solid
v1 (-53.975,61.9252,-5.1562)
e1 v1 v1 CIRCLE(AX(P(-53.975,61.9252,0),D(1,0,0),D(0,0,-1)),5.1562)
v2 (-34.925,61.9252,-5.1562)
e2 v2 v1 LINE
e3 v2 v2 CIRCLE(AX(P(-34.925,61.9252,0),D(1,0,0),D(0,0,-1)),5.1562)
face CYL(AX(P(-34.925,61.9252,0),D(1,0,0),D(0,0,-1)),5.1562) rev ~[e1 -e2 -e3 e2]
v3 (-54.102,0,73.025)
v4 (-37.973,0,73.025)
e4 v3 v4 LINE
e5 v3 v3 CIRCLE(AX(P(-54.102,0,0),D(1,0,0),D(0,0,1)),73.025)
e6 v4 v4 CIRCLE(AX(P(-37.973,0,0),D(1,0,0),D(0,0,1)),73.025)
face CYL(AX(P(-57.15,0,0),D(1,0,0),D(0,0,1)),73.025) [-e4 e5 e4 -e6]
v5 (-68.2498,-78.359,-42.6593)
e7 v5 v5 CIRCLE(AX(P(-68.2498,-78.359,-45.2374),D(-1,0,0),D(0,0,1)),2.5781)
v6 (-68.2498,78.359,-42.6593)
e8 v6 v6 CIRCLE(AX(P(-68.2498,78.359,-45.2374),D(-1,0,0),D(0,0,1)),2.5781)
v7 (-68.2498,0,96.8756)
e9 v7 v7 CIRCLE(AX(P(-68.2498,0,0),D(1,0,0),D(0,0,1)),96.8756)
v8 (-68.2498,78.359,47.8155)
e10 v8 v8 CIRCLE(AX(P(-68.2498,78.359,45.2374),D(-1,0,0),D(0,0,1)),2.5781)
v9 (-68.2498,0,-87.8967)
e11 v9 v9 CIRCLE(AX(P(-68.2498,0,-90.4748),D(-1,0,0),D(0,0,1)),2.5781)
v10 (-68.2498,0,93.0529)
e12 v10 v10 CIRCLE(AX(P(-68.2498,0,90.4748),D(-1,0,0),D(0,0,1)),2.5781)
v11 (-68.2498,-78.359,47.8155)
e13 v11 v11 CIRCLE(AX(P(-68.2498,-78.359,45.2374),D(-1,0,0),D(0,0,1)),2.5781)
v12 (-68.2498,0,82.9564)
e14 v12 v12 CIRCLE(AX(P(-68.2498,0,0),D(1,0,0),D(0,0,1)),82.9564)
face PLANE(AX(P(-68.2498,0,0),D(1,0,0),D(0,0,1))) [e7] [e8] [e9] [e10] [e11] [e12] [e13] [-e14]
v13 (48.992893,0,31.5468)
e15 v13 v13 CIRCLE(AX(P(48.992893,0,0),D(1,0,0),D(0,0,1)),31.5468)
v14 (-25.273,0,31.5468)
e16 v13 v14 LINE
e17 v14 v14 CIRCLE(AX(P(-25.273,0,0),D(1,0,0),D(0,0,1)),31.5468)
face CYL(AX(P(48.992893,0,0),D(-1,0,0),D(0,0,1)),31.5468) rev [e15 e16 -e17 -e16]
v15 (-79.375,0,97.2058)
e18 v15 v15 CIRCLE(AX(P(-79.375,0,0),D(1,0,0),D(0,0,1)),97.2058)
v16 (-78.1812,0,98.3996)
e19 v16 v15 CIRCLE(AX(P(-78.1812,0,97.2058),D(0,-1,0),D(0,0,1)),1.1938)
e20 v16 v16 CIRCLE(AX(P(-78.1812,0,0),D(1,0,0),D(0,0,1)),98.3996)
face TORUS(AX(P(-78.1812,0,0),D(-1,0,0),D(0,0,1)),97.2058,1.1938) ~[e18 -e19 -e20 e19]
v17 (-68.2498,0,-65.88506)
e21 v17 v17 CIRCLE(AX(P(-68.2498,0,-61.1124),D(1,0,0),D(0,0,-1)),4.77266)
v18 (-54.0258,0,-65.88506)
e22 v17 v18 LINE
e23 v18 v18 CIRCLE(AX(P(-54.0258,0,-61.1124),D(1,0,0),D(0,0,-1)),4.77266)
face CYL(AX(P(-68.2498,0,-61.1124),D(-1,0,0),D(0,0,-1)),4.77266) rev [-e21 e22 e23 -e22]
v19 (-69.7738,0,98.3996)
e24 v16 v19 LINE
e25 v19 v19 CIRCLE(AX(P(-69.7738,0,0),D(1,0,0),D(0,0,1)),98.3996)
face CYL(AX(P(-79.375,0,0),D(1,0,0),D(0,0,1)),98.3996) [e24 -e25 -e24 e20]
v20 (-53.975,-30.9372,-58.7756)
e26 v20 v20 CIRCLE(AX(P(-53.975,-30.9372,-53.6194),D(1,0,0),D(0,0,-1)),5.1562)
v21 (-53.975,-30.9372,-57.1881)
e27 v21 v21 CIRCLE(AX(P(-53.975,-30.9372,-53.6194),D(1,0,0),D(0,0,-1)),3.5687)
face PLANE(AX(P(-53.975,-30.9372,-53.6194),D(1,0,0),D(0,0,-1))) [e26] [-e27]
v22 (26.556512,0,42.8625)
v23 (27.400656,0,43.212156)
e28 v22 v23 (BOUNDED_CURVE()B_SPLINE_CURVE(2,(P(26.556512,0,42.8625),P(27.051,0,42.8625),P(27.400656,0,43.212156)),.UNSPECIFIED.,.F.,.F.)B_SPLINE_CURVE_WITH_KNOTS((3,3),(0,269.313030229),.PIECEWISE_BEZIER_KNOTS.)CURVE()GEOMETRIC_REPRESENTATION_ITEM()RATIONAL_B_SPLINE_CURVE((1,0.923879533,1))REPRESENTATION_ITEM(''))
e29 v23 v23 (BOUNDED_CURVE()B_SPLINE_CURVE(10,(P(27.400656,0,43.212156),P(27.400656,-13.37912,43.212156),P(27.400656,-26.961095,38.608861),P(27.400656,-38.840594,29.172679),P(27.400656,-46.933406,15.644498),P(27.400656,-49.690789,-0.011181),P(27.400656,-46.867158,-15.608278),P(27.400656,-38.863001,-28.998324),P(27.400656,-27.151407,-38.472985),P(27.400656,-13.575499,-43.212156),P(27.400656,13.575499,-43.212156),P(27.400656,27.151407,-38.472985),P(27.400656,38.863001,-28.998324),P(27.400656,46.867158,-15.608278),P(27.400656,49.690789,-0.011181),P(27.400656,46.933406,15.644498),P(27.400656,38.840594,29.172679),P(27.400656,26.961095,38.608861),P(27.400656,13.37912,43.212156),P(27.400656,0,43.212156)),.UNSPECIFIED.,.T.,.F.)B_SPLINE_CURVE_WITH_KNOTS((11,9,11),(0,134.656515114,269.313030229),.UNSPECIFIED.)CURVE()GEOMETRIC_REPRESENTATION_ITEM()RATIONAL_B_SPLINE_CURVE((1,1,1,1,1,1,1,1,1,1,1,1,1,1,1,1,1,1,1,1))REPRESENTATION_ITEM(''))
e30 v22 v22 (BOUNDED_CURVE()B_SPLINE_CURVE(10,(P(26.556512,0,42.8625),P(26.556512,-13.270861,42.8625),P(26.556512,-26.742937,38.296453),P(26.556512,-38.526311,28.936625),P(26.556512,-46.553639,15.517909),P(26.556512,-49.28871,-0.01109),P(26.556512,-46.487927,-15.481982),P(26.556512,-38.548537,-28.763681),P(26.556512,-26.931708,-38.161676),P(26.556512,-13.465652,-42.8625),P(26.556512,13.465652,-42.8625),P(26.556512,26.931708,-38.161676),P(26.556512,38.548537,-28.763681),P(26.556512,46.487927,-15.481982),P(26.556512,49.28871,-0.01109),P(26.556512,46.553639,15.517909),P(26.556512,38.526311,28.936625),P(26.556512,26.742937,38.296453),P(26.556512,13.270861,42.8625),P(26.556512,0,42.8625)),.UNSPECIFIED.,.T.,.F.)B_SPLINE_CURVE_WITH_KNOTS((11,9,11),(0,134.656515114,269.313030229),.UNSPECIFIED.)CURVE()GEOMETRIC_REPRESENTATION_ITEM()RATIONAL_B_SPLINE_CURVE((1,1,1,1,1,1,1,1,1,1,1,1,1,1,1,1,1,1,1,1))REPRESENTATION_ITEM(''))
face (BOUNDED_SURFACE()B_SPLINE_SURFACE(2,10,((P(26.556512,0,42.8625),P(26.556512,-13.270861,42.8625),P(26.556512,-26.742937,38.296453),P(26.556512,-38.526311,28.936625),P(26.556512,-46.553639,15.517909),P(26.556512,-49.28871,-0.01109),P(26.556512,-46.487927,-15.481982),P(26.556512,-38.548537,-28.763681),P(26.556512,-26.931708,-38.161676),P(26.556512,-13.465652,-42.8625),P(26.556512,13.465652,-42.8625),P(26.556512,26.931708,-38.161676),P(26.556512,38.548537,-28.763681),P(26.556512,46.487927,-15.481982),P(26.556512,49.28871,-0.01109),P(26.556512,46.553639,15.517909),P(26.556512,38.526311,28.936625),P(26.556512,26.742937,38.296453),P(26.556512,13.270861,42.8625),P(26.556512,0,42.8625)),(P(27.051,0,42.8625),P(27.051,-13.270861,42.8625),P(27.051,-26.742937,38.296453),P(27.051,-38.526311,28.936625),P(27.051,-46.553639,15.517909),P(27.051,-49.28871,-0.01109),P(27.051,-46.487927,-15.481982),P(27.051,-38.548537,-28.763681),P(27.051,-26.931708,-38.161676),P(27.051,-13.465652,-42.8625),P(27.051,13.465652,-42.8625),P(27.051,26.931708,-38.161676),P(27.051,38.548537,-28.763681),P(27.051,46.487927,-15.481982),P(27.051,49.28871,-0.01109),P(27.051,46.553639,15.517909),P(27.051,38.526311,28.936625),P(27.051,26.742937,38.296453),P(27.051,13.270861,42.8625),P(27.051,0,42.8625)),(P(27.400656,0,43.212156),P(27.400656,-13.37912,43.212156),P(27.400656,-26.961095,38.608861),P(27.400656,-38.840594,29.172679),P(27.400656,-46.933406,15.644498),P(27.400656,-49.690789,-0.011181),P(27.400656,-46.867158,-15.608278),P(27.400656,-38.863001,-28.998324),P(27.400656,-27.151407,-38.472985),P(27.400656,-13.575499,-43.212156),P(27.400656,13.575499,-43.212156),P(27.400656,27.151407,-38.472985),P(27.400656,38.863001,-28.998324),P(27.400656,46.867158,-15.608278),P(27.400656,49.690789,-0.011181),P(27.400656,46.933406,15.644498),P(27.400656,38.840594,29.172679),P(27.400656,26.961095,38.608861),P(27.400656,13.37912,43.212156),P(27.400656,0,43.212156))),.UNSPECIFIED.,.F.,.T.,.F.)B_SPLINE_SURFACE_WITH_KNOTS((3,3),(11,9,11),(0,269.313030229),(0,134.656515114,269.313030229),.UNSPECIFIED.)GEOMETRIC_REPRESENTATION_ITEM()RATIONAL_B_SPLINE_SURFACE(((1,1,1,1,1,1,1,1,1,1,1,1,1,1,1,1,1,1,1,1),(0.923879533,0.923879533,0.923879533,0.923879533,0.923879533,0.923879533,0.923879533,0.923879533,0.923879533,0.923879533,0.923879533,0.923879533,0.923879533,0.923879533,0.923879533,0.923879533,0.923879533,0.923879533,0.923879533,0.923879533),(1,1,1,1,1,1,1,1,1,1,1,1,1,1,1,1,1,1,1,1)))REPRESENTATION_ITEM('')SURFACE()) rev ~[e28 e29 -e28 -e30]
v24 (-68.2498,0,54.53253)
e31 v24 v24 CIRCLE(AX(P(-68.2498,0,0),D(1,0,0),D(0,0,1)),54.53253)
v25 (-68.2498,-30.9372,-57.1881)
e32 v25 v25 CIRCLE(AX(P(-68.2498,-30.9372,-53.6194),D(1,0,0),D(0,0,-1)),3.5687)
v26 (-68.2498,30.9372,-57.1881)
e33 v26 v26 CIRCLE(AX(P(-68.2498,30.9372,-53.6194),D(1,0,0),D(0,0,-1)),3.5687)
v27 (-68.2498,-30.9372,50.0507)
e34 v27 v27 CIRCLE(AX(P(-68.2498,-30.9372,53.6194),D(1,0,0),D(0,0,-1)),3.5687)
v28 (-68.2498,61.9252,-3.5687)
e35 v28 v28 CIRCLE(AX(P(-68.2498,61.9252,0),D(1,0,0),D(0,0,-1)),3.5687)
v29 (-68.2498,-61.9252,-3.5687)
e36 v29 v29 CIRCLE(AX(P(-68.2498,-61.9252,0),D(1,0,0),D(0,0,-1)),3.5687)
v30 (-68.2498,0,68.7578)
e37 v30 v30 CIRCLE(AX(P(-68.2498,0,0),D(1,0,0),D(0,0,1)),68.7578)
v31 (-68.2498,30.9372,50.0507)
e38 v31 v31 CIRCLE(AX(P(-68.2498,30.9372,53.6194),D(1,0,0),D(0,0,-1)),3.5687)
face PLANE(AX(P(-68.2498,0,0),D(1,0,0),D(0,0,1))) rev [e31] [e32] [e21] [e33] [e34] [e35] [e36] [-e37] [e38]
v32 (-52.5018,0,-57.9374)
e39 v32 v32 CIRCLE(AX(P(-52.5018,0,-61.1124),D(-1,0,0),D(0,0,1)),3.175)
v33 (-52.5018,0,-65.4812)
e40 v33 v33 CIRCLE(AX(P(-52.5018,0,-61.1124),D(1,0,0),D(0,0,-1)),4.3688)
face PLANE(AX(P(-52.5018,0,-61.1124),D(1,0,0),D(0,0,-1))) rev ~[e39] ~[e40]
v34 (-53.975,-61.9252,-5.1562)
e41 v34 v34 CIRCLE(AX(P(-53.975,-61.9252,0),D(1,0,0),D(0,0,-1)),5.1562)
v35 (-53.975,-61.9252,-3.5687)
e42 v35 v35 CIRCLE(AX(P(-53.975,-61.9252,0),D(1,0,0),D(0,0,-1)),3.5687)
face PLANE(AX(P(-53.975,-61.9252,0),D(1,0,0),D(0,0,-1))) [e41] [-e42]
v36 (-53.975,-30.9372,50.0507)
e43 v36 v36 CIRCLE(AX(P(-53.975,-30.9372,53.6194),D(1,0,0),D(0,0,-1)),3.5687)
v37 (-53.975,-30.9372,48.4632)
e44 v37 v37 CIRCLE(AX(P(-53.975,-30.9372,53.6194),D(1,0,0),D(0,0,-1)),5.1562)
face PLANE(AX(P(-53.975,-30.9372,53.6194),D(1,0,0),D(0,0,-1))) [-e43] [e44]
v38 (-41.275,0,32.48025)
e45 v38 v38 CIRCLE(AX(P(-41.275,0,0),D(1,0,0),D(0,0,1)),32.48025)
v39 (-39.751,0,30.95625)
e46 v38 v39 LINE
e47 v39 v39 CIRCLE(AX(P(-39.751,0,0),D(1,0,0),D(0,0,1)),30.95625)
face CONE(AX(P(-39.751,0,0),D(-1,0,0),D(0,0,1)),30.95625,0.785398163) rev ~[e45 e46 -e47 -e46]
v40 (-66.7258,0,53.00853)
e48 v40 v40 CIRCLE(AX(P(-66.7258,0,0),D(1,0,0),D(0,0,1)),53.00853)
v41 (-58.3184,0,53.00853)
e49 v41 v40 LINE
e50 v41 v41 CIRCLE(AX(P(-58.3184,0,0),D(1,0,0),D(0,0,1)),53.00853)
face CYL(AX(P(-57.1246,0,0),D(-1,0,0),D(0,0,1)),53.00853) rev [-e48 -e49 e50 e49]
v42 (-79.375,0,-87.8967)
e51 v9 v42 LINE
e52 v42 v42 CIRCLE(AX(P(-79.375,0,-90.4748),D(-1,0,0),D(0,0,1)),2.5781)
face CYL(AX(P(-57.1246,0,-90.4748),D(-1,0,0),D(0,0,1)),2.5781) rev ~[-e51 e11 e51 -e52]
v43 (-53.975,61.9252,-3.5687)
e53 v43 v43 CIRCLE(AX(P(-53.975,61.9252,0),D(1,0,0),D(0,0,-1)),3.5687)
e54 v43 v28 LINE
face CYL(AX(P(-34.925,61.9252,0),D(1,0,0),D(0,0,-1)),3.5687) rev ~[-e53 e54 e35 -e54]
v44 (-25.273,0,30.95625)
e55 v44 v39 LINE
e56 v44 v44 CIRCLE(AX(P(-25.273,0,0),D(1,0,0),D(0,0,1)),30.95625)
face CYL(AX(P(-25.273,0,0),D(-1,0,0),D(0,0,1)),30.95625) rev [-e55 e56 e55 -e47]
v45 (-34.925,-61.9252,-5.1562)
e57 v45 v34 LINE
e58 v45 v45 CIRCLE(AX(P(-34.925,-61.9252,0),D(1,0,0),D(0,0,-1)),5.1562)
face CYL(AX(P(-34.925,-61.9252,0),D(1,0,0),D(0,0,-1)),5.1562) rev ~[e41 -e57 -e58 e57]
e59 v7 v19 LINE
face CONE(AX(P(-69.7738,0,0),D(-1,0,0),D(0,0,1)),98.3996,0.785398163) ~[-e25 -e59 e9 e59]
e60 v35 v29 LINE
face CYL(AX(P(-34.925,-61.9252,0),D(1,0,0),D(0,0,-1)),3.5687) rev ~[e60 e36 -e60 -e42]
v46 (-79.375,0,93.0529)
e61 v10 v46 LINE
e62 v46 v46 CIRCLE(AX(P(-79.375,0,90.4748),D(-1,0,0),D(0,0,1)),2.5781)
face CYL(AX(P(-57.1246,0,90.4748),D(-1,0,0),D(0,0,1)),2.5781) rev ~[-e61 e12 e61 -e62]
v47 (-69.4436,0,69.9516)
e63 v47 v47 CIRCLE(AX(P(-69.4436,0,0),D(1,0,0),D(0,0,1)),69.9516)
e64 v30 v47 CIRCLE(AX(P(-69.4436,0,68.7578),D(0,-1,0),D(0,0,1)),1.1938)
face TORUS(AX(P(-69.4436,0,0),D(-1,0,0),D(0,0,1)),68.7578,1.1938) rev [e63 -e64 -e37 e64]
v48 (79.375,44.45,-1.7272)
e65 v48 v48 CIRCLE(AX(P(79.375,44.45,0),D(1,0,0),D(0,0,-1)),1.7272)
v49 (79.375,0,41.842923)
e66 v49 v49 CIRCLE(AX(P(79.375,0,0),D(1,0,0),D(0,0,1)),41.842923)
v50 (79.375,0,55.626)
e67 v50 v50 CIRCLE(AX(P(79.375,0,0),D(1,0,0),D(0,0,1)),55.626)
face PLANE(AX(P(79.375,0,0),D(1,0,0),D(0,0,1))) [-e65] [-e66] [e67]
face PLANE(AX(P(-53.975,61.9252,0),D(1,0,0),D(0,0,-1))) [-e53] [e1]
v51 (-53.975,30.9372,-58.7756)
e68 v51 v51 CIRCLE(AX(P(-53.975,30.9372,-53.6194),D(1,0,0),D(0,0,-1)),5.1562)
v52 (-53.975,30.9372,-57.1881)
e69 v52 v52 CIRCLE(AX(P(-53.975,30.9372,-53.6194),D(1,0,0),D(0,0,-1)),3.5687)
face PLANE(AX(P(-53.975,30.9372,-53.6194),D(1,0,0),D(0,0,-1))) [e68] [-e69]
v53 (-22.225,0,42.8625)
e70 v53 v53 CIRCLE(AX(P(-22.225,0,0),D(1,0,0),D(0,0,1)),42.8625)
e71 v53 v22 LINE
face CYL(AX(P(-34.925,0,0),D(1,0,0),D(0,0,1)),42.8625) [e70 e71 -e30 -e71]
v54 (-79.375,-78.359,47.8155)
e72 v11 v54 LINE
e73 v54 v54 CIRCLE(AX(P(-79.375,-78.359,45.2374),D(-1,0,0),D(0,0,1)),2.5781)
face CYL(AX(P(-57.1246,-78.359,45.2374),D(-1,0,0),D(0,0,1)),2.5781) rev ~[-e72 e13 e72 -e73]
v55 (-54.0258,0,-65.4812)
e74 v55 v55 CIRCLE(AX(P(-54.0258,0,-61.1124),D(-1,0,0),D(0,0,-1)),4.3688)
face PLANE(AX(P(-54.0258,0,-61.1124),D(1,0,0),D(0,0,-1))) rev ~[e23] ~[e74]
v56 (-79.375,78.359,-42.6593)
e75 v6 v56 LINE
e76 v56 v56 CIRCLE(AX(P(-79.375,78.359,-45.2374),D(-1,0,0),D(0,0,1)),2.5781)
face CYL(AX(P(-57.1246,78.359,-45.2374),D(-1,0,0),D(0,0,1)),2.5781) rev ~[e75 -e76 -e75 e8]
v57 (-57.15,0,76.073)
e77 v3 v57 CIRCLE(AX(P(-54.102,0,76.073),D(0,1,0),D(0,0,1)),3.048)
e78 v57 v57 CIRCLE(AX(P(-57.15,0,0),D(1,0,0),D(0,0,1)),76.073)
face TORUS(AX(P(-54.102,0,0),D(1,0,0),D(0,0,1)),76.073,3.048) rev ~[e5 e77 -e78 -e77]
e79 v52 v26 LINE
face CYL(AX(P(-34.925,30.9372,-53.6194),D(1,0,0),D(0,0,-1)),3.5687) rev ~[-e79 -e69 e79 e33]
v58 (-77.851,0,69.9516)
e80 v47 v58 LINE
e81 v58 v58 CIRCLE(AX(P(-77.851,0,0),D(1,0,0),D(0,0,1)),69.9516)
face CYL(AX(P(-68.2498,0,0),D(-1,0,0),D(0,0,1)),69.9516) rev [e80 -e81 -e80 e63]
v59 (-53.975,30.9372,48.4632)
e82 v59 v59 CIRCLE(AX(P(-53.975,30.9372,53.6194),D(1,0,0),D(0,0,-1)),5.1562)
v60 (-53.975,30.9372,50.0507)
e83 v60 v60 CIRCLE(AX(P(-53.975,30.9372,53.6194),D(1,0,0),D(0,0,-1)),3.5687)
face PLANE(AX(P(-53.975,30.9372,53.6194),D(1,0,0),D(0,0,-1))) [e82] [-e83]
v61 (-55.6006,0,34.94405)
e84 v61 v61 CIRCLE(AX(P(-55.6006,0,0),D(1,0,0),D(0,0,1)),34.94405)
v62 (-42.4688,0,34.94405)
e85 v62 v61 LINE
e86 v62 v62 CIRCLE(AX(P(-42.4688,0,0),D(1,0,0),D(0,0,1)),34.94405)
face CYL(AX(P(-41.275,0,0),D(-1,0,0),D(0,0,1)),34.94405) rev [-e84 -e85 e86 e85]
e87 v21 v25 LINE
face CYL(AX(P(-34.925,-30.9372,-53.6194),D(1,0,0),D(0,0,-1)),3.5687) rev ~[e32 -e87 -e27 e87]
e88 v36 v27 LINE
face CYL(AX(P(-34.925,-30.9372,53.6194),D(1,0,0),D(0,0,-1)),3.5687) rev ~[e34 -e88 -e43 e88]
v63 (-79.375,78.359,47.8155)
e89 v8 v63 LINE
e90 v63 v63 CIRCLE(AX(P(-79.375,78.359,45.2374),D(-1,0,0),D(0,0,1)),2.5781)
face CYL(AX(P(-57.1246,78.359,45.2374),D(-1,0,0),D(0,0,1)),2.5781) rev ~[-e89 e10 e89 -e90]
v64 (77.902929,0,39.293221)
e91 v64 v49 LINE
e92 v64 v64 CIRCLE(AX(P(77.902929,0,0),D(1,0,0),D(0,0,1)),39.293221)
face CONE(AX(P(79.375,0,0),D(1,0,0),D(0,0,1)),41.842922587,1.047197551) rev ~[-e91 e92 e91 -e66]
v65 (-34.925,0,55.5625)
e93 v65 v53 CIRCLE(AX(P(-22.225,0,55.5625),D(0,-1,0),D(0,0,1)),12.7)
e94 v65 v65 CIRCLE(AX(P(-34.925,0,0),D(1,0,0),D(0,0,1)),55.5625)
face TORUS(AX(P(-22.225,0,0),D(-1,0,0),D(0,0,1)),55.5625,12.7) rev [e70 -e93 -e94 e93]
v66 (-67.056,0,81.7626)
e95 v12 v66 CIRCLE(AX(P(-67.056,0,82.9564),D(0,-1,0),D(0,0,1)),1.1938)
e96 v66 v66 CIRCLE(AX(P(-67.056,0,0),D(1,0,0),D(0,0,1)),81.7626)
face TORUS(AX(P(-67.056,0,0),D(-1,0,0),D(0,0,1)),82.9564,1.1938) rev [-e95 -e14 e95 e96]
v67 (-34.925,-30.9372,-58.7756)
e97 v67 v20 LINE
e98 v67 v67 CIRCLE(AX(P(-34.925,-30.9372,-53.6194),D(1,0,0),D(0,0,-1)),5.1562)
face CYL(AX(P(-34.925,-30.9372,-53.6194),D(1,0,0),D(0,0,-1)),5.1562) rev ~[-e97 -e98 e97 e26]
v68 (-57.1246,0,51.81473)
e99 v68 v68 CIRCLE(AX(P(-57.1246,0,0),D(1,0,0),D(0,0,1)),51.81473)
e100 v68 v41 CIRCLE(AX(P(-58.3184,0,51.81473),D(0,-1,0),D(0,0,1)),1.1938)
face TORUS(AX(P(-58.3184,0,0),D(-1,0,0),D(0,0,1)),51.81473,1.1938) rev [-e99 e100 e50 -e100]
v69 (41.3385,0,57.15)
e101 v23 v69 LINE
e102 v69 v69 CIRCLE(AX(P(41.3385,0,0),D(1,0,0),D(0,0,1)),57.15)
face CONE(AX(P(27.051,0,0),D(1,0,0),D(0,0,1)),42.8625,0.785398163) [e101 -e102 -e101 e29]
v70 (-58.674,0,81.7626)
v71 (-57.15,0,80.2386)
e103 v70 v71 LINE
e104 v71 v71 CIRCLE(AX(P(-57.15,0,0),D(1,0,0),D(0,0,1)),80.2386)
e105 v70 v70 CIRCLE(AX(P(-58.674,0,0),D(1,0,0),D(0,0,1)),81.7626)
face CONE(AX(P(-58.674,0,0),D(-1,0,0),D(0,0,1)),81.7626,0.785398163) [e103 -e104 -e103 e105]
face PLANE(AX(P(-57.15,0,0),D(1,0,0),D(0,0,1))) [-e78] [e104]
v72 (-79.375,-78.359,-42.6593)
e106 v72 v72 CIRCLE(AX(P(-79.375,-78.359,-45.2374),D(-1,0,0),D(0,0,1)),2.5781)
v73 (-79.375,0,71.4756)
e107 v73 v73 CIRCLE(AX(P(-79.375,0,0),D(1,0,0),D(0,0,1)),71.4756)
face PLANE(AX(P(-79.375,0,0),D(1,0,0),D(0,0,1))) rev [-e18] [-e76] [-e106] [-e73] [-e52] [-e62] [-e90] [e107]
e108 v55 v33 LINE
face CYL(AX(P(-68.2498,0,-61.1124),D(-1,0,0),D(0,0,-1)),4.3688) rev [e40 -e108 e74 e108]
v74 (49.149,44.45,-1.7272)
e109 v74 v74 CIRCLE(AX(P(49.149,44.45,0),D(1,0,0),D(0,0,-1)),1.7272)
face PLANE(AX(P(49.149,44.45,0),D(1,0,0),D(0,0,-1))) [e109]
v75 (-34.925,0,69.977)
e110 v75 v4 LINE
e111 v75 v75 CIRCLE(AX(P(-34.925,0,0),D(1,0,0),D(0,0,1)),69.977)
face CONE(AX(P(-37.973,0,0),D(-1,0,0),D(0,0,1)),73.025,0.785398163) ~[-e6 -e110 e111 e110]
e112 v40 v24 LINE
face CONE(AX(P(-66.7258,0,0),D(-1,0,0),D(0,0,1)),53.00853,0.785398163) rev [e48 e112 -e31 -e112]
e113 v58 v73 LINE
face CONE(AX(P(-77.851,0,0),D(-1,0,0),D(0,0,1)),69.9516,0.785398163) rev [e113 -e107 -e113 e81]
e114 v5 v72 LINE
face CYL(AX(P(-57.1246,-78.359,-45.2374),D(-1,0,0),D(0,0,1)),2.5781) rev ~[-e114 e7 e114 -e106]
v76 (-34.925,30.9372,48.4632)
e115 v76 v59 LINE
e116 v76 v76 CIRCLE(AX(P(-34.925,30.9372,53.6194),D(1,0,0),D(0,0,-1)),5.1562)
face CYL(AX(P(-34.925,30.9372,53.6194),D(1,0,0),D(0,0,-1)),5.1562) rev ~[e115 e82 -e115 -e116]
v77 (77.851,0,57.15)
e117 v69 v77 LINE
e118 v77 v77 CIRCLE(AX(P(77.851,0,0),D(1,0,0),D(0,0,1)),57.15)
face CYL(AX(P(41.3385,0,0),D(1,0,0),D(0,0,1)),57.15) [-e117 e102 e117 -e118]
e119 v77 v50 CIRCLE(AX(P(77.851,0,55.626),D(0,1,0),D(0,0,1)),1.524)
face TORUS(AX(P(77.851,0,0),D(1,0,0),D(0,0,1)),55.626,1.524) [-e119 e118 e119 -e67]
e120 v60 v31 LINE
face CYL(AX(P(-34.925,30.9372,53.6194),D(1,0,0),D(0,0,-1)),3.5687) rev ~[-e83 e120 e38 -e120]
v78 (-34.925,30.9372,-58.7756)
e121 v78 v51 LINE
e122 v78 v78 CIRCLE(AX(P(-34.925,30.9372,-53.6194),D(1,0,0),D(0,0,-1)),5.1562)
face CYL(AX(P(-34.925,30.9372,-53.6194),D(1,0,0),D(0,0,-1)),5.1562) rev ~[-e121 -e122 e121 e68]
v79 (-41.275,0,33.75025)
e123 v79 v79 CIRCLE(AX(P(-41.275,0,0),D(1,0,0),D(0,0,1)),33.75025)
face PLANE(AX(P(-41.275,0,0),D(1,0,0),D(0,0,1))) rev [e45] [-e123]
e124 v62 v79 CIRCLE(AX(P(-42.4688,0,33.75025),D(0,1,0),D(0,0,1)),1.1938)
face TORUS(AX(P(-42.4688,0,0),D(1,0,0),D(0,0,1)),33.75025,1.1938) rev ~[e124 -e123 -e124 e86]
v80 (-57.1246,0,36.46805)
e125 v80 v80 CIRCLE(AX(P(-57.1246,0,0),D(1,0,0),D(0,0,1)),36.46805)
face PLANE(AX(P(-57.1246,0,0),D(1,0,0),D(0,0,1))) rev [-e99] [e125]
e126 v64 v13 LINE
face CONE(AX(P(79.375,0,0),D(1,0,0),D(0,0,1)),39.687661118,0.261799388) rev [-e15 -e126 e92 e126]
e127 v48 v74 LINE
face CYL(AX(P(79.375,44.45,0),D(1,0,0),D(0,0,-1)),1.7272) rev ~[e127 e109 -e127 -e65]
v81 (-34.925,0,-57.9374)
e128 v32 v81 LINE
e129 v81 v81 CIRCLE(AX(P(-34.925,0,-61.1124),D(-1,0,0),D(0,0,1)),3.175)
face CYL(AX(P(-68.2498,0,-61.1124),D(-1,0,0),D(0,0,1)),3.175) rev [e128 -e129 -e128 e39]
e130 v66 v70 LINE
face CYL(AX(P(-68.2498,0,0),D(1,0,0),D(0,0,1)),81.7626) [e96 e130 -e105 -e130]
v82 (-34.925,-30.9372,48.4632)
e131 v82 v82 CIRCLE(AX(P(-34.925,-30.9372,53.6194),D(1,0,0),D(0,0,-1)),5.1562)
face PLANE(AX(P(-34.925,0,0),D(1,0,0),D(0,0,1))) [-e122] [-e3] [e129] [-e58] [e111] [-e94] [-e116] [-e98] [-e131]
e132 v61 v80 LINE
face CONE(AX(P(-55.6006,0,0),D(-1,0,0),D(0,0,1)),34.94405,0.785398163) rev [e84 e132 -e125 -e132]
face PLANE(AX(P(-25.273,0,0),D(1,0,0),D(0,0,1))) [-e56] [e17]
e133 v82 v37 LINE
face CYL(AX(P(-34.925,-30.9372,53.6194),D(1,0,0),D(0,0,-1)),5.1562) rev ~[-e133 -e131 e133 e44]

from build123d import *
from OCP.BRepFilletAPI import BRepFilletAPI_MakeChamfer

# Parameters (mm, degrees)
FILLET1_R                   = 12.7
FILLET2_R                   = 3.048
FILLET3_R                   = 1.524
CHAMFER1_SIZE               = 3.048
F_1_4_20_TAPPED_HOLE1_D     = 5.1562
F_1_4_20_TAPPED_HOLE1_DEPTH = 11.1252
F_1_4_20_TAPPED_HOLE1_TIP   = 1.549078762
F_1_4_20_TAPPED_HOLE2_D     = 5.1562
F_1_4_20_TAPPED_HOLE2_DEPTH = 11.1252
F_1_4_20_TAPPED_HOLE2_TIP   = 1.549078762
CUT_EXTRUDE2_START          = -34.925
SKETCH6_R                   = 3.5687
CUT_EXTRUDE2_DEPTH          = 126.279098528
CUT_EXTRUDE4_START          = -34.925
SKETCH7_R                   = 5.1562
CUT_EXTRUDE4_DEPTH          = 19.05
CUT_EXTRUDE6_START          = -34.925
SKETCH8_R                   = 3.5687
CUT_EXTRUDE6_DEPTH          = 126.279098528
CUT_EXTRUDE8_START          = -34.925
SKETCH9_R                   = 5.1562
CUT_EXTRUDE8_DEPTH          = 19.05
CUT_EXTRUDE10_START         = -68.2498
SKETCH10_R                  = 3.175
CUT_EXTRUDE10_DEPTH         = 229.453898528
CUT_EXTRUDE12_START         = -68.2498
SKETCH11_R                  = 4.3688
CUT_EXTRUDE12_DEPTH         = 15.748
CUT_EXTRUDE14_START         = -68.2498
SKETCH12_R                  = 4.77266
CUT_EXTRUDE14_DEPTH         = 14.224
CUT_EXTRUDE16_START         = 79.375
SKETCH13_R                  = 1.7272
CUT_EXTRUDE16_DEPTH         = 30.226
CHAMFER2_SIZE               = 1.524
FILLET4_R                   = 1.1938
CHAMFER3_SIZE               = 1.524
CHAMFER4_SIZE               = 1.524
CHAMFER4_SIZE2              = 2.155261469
FILLET5_R                   = 1.1938


with BuildPart() as part:
    # Sketch1 → Revolve1 (revolve)
    with BuildSketch(Plane(origin=(0, 0, 0), x_dir=(1, 0, 0), z_dir=(0, 1, 0)), mode=Mode.PRIVATE) as revolve1_sk:
        Polygon((-79.375, 98.3996), (-68.2498, 98.3996), (-68.2498, 81.7626), (-57.15, 81.7626), (-57.15, 73.025), (-34.925, 73.025), (-34.925, 42.8625), (27.051, 42.8625), (41.3385, 57.15), (79.375, 57.15), (79.375, 39.687661118), (48.992892692, 31.5468), (-25.273, 31.5468), (-25.273, 30.95625), (-41.275, 30.95625), (-41.275, 34.94405), (-57.1246, 34.94405), (-57.1246, 53.00853), (-68.2498, 53.00853), (-68.2498, 69.9516), (-79.375, 69.9516), align=None)
    revolve(revolve1_sk.sketch.rotate(Axis((-104.775, 0, 0), (1, 0, 0)), 180), axis=Axis((-104.775, 0, 0), (1, 0, 0)))

    # Fillet1
    fillet1_edges = [part.edges().sort_by_distance(p)[0] for p in [
        (-34.925, 0, -42.8625),
    ]]
    fillet(fillet1_edges, radius=FILLET1_R)

    # Fillet2
    fillet2_edges = [part.edges().sort_by_distance(p)[0] for p in [
        (-57.15, 0, -73.025),
    ]]
    fillet(fillet2_edges, radius=FILLET2_R)

    # Fillet3
    fillet3_edges = [part.edges().sort_by_distance(p)[0] for p in [
        (79.375, 0, -57.15),
    ]]
    fillet(fillet3_edges, radius=FILLET3_R)

    # Chamfer1
    chamfer1_edges = [part.edges().sort_by_distance(p)[0] for p in [
        (-34.925, 0, -73.025),
    ]]
    chamfer(chamfer1_edges, length=CHAMFER1_SIZE)

    # 1/4-20 Tapped Hole1
    with Locations(Plane(origin=(-68.2498, 0, 0), x_dir=(0, 0, -1), z_dir=(1, 0, 0))):
        with Locations((-90.4748, 0), (90.4748, 0)):
            Hole(F_1_4_20_TAPPED_HOLE1_D / 2, depth=F_1_4_20_TAPPED_HOLE1_DEPTH)
            with Locations((0, 0, -(F_1_4_20_TAPPED_HOLE1_DEPTH + F_1_4_20_TAPPED_HOLE1_TIP / 2))):  # 118° drill point
                Cone(0, F_1_4_20_TAPPED_HOLE1_D / 2, F_1_4_20_TAPPED_HOLE1_TIP, mode=Mode.SUBTRACT)

    # 1/4-20 Tapped Hole2
    with Locations(Plane(origin=(-68.2498, 0, 0), x_dir=(0, 0, -1), z_dir=(1, 0, 0))):
        with Locations((-45.2374, -78.359), (45.2374, -78.359), (-45.2374, 78.359), (45.2374, 78.359)):
            Hole(F_1_4_20_TAPPED_HOLE2_D / 2, depth=F_1_4_20_TAPPED_HOLE2_DEPTH)
            with Locations((0, 0, -(F_1_4_20_TAPPED_HOLE2_DEPTH + F_1_4_20_TAPPED_HOLE2_TIP / 2))):  # 118° drill point
                Cone(0, F_1_4_20_TAPPED_HOLE2_D / 2, F_1_4_20_TAPPED_HOLE2_TIP, mode=Mode.SUBTRACT)

    # Sketch6 → Cut-Extrude2 (cut, through all)
    with BuildSketch(Plane(origin=(0, 0, 0), x_dir=(0, 0, -1), z_dir=(1, 0, 0)).offset(CUT_EXTRUDE2_START)):
        with Locations((0, -61.9252)):
            Circle(SKETCH6_R)
        with Locations((0, 61.9252)):
            Circle(SKETCH6_R)
    extrude(amount=-CUT_EXTRUDE2_DEPTH, mode=Mode.SUBTRACT)

    # Sketch7 → Cut-Extrude4 (cut)
    with BuildSketch(Plane(origin=(0, 0, 0), x_dir=(0, 0, -1), z_dir=(1, 0, 0)).offset(CUT_EXTRUDE4_START)):
        with Locations((0, -61.9252)):
            Circle(SKETCH7_R)
        with Locations((0, 61.9252)):
            Circle(SKETCH7_R)
    extrude(amount=-CUT_EXTRUDE4_DEPTH, mode=Mode.SUBTRACT)

    # Sketch8 → Cut-Extrude6 (cut, through all)
    with BuildSketch(Plane(origin=(0, 0, 0), x_dir=(0, 0, -1), z_dir=(1, 0, 0)).offset(CUT_EXTRUDE6_START)):
        with Locations((-53.6194, -30.9372)):
            Circle(SKETCH8_R)
        with Locations((53.6194, -30.9372)):
            Circle(SKETCH8_R)
        with Locations((-53.6194, 30.9372)):
            Circle(SKETCH8_R)
        with Locations((53.6194, 30.9372)):
            Circle(SKETCH8_R)
    extrude(amount=-CUT_EXTRUDE6_DEPTH, mode=Mode.SUBTRACT)

    # Sketch9 → Cut-Extrude8 (cut)
    with BuildSketch(Plane(origin=(0, 0, 0), x_dir=(0, 0, -1), z_dir=(1, 0, 0)).offset(CUT_EXTRUDE8_START)):
        with Locations((-53.6194, -30.9372)):
            Circle(SKETCH9_R)
        with Locations((53.6194, -30.9372)):
            Circle(SKETCH9_R)
        with Locations((-53.6194, 30.9372)):
            Circle(SKETCH9_R)
        with Locations((53.6194, 30.9372)):
            Circle(SKETCH9_R)
    extrude(amount=-CUT_EXTRUDE8_DEPTH, mode=Mode.SUBTRACT)

    # Sketch10 → Cut-Extrude10 (cut, through all)
    with BuildSketch(Plane(origin=(0, 0, 0), x_dir=(0, 0, -1), z_dir=(1, 0, 0)).offset(CUT_EXTRUDE10_START)):
        with Locations(Location((61.1124, 0, 0), (0, 0, 180))):
            Circle(SKETCH10_R)
    extrude(amount=CUT_EXTRUDE10_DEPTH, mode=Mode.SUBTRACT)

    # Sketch11 → Cut-Extrude12 (cut)
    with BuildSketch(Plane(origin=(0, 0, 0), x_dir=(0, 0, -1), z_dir=(1, 0, 0)).offset(CUT_EXTRUDE12_START)):
        with Locations((61.1124, 0)):
            Circle(SKETCH11_R)
    extrude(amount=CUT_EXTRUDE12_DEPTH, mode=Mode.SUBTRACT)

    # Sketch12 → Cut-Extrude14 (cut)
    with BuildSketch(Plane(origin=(0, 0, 0), x_dir=(0, 0, -1), z_dir=(1, 0, 0)).offset(CUT_EXTRUDE14_START)):
        with Locations((61.1124, 0)):
            Circle(SKETCH12_R)
    extrude(amount=CUT_EXTRUDE14_DEPTH, mode=Mode.SUBTRACT)

    # Sketch13 → Cut-Extrude16 (cut)
    with BuildSketch(Plane(origin=(0, 0, 0), x_dir=(0, 0, -1), z_dir=(1, 0, 0)).offset(CUT_EXTRUDE16_START)):
        with Locations((0, 44.45)):
            Circle(SKETCH13_R)
    extrude(amount=-CUT_EXTRUDE16_DEPTH, mode=Mode.SUBTRACT)

    # Chamfer2
    chamfer2_edges = [part.edges().sort_by_distance(p)[0] for p in [
        (-68.2498, 0, -98.3996),
    ]]
    chamfer(chamfer2_edges, length=CHAMFER2_SIZE)

    # Fillet4
    fillet4_edges = [part.edges().sort_by_distance(p)[0] for p in [
        (-79.375, 0, -98.3996),
    ]]
    fillet(fillet4_edges, radius=FILLET4_R)

    # Chamfer3
    chamfer3_edges = [part.edges().sort_by_distance(p)[0] for p in [
        (-41.275, 0, -30.95625),
    ]]
    chamfer(chamfer3_edges, length=CHAMFER3_SIZE)

    # Chamfer4: one chamfer whose edges measure the first distance from different faces: ONE call of the kernel's chamfer builder (chamfer() names one face for all edges)
    chamfer4_edges_1 = [part.edges().sort_by_distance(p)[0] for p in [
        (-79.375, 0, -69.9516),
        (-68.2498, 0, -53.00853),
        (-57.1246, 0, -34.94405),
        (-57.15, 0, -81.7626),
    ]]
    chamfer4_edges_2 = [part.edges().sort_by_distance(p)[0] for p in [
        (79.375, 0, -39.687661118),
    ]]
    chamfer4_side_2 = [part.faces().sort_by_distance(p)[0] for p in [
        (64.183946346, 0, -35.617230559),
    ]]
    chamfer4 = BRepFilletAPI_MakeChamfer(part.part.solid().wrapped)
    for e in chamfer4_edges_1:
        chamfer4.Add(CHAMFER4_SIZE, e.wrapped)
    for e in chamfer4_edges_2:
        chamfer4.Add(CHAMFER4_SIZE, CHAMFER4_SIZE2, e.wrapped, chamfer4_side_2[0].wrapped)  # the first distance lies on this face
    add(Compound.cast(chamfer4.Shape()), mode=Mode.REPLACE)

    # Fillet5
    fillet5_edges = [part.edges().sort_by_distance(p)[0] for p in [
        (-68.2498, 0, -69.9516),
        (-57.1246, 0, -53.00853),
        (-41.275, 0, -34.94405),
        (27.051, 0, -42.8625),
        (-68.2498, 0, -81.7626),
    ]]
    fillet(fillet5_edges, radius=FILLET5_R)


solid = part.part
